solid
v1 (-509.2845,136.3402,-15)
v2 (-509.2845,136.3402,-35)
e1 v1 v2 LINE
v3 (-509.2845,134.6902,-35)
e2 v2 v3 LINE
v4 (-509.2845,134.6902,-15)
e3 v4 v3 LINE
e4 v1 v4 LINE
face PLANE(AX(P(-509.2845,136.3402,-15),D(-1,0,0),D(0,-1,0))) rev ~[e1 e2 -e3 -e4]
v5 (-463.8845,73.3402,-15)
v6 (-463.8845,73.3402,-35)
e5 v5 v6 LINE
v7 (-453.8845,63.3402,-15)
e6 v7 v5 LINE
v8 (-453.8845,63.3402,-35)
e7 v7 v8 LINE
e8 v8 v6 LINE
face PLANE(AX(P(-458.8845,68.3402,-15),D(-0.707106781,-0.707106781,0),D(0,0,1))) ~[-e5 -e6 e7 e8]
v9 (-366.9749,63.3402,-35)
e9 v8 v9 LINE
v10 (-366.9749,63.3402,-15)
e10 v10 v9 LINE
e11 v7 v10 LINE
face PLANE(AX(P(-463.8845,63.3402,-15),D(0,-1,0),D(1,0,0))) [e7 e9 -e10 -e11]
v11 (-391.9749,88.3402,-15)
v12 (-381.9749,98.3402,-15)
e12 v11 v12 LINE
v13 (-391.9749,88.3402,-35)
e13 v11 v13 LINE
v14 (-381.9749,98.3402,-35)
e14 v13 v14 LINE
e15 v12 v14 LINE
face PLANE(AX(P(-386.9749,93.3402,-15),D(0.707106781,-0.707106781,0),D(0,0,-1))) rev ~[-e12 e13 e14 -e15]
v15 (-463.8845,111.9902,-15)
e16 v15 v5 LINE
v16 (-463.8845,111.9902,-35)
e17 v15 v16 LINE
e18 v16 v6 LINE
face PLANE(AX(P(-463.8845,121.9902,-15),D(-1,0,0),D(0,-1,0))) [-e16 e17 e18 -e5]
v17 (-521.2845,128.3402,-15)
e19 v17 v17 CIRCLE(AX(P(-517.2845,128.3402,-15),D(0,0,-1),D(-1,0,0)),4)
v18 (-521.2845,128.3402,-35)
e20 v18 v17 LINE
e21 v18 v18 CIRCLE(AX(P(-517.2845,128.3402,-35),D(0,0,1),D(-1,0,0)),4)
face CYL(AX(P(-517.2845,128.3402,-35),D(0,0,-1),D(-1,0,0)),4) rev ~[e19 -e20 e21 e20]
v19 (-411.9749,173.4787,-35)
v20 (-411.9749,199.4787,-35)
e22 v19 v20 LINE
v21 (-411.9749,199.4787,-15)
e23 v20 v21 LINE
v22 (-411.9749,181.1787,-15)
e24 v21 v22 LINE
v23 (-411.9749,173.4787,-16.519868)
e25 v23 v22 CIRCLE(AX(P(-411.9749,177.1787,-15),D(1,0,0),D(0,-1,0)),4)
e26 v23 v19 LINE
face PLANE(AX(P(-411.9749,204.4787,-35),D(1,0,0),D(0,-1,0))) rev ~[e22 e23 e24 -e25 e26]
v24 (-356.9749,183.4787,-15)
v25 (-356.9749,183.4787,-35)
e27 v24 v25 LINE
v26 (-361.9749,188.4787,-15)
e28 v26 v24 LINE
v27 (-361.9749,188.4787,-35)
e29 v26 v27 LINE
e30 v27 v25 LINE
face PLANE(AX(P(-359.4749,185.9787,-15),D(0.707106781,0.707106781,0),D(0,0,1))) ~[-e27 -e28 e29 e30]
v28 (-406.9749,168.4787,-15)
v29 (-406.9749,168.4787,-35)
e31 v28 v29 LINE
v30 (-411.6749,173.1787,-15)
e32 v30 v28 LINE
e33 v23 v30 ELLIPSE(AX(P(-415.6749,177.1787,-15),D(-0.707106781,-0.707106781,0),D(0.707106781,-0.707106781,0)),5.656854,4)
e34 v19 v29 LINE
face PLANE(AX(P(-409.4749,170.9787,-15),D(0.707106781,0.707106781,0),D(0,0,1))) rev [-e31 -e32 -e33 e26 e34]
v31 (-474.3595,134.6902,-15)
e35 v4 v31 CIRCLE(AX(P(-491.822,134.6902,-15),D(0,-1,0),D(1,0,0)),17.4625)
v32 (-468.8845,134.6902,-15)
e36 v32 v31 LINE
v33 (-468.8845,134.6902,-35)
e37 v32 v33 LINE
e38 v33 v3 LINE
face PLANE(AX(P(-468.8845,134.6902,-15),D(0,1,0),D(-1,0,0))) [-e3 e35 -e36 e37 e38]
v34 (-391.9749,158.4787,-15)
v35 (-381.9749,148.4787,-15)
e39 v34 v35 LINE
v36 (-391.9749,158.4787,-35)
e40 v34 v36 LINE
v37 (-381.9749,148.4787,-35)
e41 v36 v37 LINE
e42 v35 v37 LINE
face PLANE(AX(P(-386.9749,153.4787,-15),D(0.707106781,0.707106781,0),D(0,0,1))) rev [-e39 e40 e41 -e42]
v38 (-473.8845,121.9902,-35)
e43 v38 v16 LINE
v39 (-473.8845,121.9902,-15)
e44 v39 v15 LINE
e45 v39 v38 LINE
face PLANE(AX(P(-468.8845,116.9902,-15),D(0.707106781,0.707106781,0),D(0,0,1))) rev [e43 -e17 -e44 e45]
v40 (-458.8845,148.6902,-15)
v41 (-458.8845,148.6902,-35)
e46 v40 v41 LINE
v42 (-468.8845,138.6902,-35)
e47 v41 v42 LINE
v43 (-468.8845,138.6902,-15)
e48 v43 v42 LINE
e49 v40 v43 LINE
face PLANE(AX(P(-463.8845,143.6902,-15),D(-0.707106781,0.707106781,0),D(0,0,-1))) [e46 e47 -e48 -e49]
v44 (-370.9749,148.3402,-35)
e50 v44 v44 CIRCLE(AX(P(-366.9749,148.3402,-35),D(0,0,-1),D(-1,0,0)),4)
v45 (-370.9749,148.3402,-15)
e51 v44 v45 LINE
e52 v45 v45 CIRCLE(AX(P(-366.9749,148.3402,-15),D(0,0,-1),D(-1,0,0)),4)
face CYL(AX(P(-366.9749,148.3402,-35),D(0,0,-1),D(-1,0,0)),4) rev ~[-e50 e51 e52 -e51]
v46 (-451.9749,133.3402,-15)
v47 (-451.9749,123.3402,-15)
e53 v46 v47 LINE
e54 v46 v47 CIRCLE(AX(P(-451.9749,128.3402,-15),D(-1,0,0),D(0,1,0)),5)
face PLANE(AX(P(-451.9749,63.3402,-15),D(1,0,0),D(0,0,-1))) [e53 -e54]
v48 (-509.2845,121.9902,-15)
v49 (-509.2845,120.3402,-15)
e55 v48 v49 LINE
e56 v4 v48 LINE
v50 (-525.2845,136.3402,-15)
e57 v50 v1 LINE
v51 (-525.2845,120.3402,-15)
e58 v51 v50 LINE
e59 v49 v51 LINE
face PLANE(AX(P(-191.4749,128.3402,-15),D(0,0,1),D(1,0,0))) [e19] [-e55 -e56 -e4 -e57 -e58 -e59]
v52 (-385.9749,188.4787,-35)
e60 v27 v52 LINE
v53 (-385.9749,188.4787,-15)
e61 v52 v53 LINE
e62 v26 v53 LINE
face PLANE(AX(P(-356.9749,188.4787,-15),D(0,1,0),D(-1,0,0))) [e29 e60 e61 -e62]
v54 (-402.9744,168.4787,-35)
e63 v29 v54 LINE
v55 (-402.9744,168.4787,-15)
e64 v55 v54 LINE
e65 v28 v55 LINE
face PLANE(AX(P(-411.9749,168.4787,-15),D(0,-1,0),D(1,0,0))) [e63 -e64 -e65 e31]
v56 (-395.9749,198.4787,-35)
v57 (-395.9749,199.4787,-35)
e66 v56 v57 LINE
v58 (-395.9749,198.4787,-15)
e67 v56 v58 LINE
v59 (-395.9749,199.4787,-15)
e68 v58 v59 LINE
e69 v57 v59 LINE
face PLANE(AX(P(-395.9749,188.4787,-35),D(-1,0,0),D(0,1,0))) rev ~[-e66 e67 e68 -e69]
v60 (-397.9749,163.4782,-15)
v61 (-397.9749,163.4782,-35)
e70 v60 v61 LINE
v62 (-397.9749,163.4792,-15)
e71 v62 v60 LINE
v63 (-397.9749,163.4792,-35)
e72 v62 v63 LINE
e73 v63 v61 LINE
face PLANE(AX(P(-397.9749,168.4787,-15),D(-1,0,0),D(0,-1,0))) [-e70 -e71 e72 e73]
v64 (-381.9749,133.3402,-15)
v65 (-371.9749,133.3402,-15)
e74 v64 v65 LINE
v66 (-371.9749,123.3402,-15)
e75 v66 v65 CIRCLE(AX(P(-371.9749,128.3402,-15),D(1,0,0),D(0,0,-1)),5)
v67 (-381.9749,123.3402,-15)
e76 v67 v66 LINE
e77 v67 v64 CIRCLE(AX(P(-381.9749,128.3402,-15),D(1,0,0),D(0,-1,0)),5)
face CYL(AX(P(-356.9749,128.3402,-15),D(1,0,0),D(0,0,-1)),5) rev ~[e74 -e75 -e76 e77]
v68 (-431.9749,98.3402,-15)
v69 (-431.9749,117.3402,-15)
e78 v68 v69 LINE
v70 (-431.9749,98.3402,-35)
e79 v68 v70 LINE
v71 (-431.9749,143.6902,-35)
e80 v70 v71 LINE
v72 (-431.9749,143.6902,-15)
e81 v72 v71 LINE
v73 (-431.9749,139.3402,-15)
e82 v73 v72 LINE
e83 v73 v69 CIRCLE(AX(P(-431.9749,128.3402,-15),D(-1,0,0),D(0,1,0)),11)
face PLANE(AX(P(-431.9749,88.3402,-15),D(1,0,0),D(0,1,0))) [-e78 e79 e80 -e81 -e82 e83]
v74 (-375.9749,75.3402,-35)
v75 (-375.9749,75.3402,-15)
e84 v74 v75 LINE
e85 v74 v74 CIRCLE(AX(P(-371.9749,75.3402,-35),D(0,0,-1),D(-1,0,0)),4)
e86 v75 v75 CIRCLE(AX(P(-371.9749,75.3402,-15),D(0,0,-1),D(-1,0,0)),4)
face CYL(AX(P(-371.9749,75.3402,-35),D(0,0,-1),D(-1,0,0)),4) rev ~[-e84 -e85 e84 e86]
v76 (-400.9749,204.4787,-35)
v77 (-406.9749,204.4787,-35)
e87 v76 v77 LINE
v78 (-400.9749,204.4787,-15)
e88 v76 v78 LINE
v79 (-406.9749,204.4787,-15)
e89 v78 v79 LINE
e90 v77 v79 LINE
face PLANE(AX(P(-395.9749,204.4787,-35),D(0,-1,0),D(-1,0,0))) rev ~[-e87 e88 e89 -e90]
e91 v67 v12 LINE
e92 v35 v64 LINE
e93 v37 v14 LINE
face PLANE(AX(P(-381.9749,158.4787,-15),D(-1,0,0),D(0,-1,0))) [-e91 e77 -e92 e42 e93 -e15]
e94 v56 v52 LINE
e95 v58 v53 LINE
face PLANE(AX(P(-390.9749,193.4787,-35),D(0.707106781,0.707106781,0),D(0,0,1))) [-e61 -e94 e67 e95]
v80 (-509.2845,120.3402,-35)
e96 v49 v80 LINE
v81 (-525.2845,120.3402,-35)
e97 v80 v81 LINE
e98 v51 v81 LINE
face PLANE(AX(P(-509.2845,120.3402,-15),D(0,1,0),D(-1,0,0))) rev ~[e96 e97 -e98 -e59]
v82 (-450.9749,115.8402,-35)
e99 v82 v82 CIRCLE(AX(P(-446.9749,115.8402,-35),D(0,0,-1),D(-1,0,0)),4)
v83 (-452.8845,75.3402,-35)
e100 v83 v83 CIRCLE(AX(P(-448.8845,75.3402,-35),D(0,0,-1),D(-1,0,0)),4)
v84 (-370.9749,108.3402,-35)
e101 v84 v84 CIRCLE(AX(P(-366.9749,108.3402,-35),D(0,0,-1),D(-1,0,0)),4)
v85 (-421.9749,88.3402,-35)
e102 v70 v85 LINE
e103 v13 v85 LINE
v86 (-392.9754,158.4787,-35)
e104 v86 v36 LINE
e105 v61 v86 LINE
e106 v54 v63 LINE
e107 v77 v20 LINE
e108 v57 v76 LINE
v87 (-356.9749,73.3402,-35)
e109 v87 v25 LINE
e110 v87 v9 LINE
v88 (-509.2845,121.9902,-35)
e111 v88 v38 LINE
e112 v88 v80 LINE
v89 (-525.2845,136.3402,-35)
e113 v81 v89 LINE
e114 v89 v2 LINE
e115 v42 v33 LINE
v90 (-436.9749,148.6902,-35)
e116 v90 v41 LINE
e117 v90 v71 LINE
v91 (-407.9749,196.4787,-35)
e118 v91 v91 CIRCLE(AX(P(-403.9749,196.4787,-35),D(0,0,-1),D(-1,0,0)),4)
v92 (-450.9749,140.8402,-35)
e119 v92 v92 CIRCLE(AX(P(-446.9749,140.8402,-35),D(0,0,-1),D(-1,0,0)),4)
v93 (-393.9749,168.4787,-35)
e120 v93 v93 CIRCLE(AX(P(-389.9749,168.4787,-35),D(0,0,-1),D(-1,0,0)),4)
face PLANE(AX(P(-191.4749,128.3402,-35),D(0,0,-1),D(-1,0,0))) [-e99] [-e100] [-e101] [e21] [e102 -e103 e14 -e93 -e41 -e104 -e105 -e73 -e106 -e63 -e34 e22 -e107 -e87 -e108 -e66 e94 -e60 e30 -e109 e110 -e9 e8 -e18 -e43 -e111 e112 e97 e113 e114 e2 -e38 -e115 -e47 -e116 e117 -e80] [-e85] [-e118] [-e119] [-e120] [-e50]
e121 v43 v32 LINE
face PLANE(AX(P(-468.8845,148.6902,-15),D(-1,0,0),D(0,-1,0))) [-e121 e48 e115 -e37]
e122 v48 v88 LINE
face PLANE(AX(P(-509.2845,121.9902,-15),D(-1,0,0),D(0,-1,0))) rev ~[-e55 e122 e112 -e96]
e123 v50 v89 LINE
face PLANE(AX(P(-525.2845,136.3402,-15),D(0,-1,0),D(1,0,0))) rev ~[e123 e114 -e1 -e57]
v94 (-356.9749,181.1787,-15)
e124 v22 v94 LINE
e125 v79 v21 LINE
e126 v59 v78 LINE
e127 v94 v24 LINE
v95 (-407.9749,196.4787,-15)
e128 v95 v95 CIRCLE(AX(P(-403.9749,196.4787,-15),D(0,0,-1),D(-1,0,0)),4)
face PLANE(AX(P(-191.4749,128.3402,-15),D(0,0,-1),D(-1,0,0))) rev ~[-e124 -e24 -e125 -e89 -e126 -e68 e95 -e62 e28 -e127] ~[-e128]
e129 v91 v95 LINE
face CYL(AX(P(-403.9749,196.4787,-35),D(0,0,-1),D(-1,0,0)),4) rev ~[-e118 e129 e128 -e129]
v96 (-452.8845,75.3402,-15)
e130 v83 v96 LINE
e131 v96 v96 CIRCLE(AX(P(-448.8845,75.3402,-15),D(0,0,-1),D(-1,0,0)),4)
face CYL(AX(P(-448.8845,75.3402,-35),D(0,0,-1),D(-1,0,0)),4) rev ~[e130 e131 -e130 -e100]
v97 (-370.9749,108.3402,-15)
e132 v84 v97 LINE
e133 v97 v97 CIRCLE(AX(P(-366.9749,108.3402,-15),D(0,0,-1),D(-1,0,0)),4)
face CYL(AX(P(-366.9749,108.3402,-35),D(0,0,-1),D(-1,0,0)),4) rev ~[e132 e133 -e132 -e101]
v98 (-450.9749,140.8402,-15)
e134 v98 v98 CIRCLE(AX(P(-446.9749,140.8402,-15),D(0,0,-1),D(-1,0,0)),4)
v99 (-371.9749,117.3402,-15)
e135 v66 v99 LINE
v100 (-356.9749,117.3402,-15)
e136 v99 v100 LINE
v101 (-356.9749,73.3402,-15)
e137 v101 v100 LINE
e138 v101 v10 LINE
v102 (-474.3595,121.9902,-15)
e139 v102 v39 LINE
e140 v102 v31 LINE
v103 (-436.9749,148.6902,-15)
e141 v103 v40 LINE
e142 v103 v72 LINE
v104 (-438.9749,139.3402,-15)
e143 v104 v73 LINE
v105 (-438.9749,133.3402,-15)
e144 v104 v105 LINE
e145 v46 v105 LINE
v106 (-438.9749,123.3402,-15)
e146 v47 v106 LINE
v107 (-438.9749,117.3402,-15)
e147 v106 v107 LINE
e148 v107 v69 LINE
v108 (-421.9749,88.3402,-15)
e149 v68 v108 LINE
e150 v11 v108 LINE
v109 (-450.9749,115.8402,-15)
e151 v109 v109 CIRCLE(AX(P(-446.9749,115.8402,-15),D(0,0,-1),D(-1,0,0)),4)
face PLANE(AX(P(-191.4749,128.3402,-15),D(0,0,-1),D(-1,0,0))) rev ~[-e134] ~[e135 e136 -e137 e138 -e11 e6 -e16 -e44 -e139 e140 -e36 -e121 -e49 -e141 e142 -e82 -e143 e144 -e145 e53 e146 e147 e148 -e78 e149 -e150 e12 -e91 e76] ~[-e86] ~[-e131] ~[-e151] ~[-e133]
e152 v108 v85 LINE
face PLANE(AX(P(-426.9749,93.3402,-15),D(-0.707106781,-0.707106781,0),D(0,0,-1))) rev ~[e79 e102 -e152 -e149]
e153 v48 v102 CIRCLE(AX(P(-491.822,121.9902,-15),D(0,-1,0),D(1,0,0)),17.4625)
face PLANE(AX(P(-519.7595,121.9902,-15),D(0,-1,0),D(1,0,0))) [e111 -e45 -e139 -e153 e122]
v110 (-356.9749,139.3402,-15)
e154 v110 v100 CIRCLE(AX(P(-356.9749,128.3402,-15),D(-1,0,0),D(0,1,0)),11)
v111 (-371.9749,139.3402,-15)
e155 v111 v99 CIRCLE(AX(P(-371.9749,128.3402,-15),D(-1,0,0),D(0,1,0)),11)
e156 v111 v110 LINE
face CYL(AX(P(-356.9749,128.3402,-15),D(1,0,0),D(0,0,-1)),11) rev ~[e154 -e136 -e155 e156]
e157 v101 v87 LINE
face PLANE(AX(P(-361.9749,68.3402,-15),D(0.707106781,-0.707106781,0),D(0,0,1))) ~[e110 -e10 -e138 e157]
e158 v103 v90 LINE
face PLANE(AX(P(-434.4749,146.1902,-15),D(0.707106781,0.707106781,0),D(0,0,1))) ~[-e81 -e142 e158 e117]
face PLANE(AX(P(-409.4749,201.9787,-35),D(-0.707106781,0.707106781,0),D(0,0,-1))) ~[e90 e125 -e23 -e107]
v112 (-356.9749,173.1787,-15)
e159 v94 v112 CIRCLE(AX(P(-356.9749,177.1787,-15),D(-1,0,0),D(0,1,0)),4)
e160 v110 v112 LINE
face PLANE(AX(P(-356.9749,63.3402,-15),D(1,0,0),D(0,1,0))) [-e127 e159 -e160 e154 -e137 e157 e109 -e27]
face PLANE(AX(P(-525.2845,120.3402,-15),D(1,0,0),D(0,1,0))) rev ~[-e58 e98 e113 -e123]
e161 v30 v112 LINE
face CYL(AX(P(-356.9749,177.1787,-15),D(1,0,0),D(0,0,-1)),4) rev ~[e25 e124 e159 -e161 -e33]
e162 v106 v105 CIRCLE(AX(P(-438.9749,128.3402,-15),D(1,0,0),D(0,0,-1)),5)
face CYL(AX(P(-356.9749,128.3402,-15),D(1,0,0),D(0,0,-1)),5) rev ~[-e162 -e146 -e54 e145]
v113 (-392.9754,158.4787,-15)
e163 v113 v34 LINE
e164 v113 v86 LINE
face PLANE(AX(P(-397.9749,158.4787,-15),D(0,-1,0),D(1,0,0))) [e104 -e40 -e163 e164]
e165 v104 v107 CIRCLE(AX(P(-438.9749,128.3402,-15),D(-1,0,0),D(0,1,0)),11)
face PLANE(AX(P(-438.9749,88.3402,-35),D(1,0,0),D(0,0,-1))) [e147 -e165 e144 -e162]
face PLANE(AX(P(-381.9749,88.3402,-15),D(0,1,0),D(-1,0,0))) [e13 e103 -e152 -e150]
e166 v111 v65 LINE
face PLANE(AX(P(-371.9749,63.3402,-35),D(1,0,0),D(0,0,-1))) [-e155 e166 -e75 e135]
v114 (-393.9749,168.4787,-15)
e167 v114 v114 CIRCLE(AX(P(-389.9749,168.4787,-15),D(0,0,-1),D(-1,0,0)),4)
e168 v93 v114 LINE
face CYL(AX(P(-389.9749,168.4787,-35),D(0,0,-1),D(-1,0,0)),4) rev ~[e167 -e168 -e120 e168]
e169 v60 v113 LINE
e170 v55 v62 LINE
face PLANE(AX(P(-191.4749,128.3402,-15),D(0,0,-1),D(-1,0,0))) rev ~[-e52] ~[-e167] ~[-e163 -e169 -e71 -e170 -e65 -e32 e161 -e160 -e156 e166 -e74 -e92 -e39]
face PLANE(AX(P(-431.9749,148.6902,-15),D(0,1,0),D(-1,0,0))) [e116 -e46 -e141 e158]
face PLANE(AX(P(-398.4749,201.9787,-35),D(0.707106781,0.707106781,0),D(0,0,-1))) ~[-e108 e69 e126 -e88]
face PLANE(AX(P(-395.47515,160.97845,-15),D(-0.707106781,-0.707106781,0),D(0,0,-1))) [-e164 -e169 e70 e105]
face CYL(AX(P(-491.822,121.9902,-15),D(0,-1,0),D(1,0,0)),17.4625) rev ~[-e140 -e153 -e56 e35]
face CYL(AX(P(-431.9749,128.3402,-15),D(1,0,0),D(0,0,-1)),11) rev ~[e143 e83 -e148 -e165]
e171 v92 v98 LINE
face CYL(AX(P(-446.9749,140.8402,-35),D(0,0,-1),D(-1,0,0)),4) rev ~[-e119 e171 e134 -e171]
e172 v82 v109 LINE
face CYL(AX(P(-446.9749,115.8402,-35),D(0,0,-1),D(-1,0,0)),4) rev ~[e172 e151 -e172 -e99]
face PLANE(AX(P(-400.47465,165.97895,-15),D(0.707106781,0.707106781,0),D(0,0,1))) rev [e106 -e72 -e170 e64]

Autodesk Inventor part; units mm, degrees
ref_plane "YZ Plane" through (0, 0, 0) normal (1, 0, 0) x (0, 1, 0)
ref_plane "XZ Plane" through (0, 0, 0) normal (0, 1, 0) x (-1, 0, 0)
ref_plane "XY Plane" through (0, 0, 0) normal (0, 0, 1) x (1, 0, 0)
ref_plane "Work Plane1" through (-191.4749, 128.3402, -15) normal (0, 0, -1) x (-1, 0, 0)
sketch "Sketch1" plane through (-191.4749, 128.3402, -15) normal (0, 0, -1) x (-1, 0, 0)
  line L0 (190.8, 9) -> (190.8, -9) construction
  line L1 (221.5, 38.1385) -> (221.5, 59.5385) construction
  line L2 (228.2, 37.8385) -> (228.2, 59.8385) construction
  line L3 (292.4096, 87.8385) -> (292.4096, -112.1615) construction
  line L4 (308.2846, 87.8385) -> (308.2846, -112.1615) construction
  line L5 (240.5, -40) -> (240.5, 20.35)
  line L6 (240.5, 20.35) -> (277.4096, 20.35)
  line L7 (277.4096, 20.35) -> (277.4096, 6.35)
  line L8 (277.4096, 6.35) -> (328.2846, 6.35)
  line L9 (328.2846, 6.35) -> (328.2846, -6.35)
  line L10 (328.2846, -6.35) -> (272.4096, -6.35)
  line L11 (272.4096, -6.35) -> (272.4096, -65)
  line L12 (272.4096, -65) -> (165.5, -65)
  line L13 (165.5, -65) -> (165.5, 60.1385)
  line L14 (165.5, 60.1385) -> (220.5, 60.1385)
  line L15 (220.5, 60.1385) -> (220.5, 40.1385)
  line L16 (220.5, 40.1385) -> (190.5, 40.1385)
  line L17 (190.5, 40.1385) -> (206.5, 40.1385)
  line L18 (206.5, 40.1385) -> (206.5, 30.1385)
  line L19 (206.5, 30.1385) -> (190.5, 30.1385)
  line L20 (190.5, 30.1385) -> (190.5, 40.1385)
  line L21 (190.5, 30.1385) -> (190.5, -40)
  line L22 (190.5, -40) -> (240.5, -40)
  line L23 (190.5, -8.7) -> (190.5, 8.7) construction
  point P0 (-191.4749, -128.3402)
  point P1 (328.2846, 0)
  point P2 (190.8, 0)
  point P3 (190.5, 0)
  dimension "d0" = 12.7
  dimension "d1" = 2
  dimension "d2" = 1
  dimension "d3" = 20
  dimension "d4" = 16
  dimension "d5" = 10
  dimension "d6" = 40
  dimension "d7" = 25
  dimension "d8" = 50
  dimension "d9" = 20
  dimension "d10" = 20
  dimension "d11" = 15
  dimension "d12" = 14
  dimension "d13" = 25
extrude "Extrusion1" add sketch "Sketch1" along normal blind 20
sketch "Sketch2" plane through (-519.7595, 121.9902, -15) normal (0, -1, 0) x (1, 0, 0)
  circle A0 centre (27.9375, 0) radius 30 construction
  circle A1 centre (27.9375, 0) radius 17.4625
  point P0 (519.7595, 15)
  dimension "d16" = 34.925
extrude "Extrusion2" cut sketch "Sketch2" against normal through all
sketch "Sketch3" plane through (-191.4749, 128.3402, -15) normal (0, 0, 1) x (1, 0, 0)
  line L0 (-317.8096, -6.35) -> (-317.8096, 6.35) projected
  line L1 (-333.8096, 8) -> (-317.8096, 8)
  line L2 (-317.8096, 8) -> (-317.8096, -8)
  line L3 (-317.8096, -8) -> (-333.8096, -8)
  line L4 (-333.8096, -8) -> (-333.8096, 8)
  point P0 (191.4749, -128.3402)
  point P1 (-317.8096, 0)
  dimension "d19" = 16
  dimension "d20" = 16
extrude "Extrusion3" add sketch "Sketch3" against normal up to surface (20 mm away)
sketch "Sketch4" plane through (-191.4749, 128.3402, -35) normal (0, 0, -1) x (-1, 0, 0)
  line L0 (317.8096, -8) -> (333.8096, -8) projected
  line L1 (333.8096, 8) -> (317.8096, 8) projected
  line L2 (325.8096, 8) -> (325.8096, -8)
  circle A0 centre (325.8096, 0) radius 4
  point P0 (-191.4749, -128.3402)
  dimension "d23" = 8
extrude "Extrusion4" cut sketch "Sketch4" against normal through all
sketch "Sketch5" plane through (-356.9749, 63.3402, -15) normal (1, 0, 0) x (0, 0, -1)
  arc A0 (1.3364, 96.1329) -> (-1.3364, 96.1329) centre (0, 65) ccw construction
  arc A1 (-1.3364, 96.1329) -> (-7.1127, 95.3389) centre (0, 65) ccw construction
  arc A2 (-7.1127, 95.3389) -> (-9.6864, 94.6178) centre (0, 65) ccw construction
  arc A3 (-9.6864, 94.6178) -> (-15.0343, 92.2949) centre (0, 65) ccw construction
  arc A4 (-15.0343, 92.2949) -> (-17.318, 90.9062) centre (0, 65) ccw construction
  arc A5 (-17.318, 90.9062) -> (-21.8409, 87.2265) centre (0, 65) ccw construction
  arc A6 (-21.8409, 87.2265) -> (-23.6652, 85.2731) centre (0, 65) ccw construction
  arc A7 (-23.6652, 85.2731) -> (-27.0276, 80.5097) centre (0, 65) ccw construction
  arc A8 (-27.0276, 80.5097) -> (-28.2572, 78.1366) centre (0, 65) ccw construction
  arc A9 (-28.2572, 78.1366) -> (-30.2098, 72.6426) centre (0, 65) ccw construction
  arc A10 (-30.2098, 72.6426) -> (-30.7536, 70.0257) centre (0, 65) ccw construction
  arc A11 (-30.7536, 70.0257) -> (-31.1515, 64.2087) centre (0, 65) ccw construction
  arc A12 (-31.1515, 64.2087) -> (-30.9691, 61.5421) centre (0, 65) ccw construction
  arc A13 (-30.9691, 61.5421) -> (-29.7828, 55.8335) centre (0, 65) ccw construction
  arc A14 (-29.7828, 55.8335) -> (-28.8878, 53.315) centre (0, 65) ccw construction
  arc A15 (-28.8878, 53.315) -> (-26.2053, 48.1381) centre (0, 65) ccw construction
  arc A16 (-26.2053, 48.1381) -> (-24.6639, 45.9545) centre (0, 65) ccw construction
  arc A17 (-24.6639, 45.9545) -> (-20.6842, 41.6933) centre (0, 65) ccw construction
  arc A18 (-20.6842, 41.6933) -> (-18.6109, 40.0065) centre (0, 65) ccw construction
  arc A19 (-18.6109, 40.0065) -> (-13.6291, 36.977) centre (0, 65) ccw construction
  arc A20 (-13.6291, 36.977) -> (-11.1776, 35.9122) centre (0, 65) ccw construction
  arc A21 (-11.1776, 35.9122) -> (-5.5632, 34.3391) centre (0, 65) ccw construction
  arc A22 (-5.5632, 34.3391) -> (-2.9153, 33.9751) centre (0, 65) ccw construction
  arc A23 (-2.9153, 33.9751) -> (2.9153, 33.9751) centre (0, 65) ccw construction
  arc A24 (2.9153, 33.9751) -> (5.5632, 34.3391) centre (0, 65) ccw construction
  arc A25 (5.5632, 34.3391) -> (11.1776, 35.9122) centre (0, 65) ccw construction
  arc A26 (11.1776, 35.9122) -> (13.6291, 36.977) centre (0, 65) ccw construction
  arc A27 (13.6291, 36.977) -> (18.6109, 40.0065) centre (0, 65) ccw construction
  arc A28 (18.6109, 40.0065) -> (20.6842, 41.6933) centre (0, 65) ccw construction
  arc A29 (20.6842, 41.6933) -> (24.6639, 45.9545) centre (0, 65) ccw construction
  arc A30 (24.6639, 45.9545) -> (26.2053, 48.1381) centre (0, 65) ccw construction
  arc A31 (26.2053, 48.1381) -> (28.8878, 53.315) centre (0, 65) ccw construction
  arc A32 (28.8878, 53.315) -> (29.7828, 55.8335) centre (0, 65) ccw construction
  arc A33 (29.7828, 55.8335) -> (30.9691, 61.5421) centre (0, 65) ccw construction
  arc A34 (30.9691, 61.5421) -> (31.1515, 64.2087) centre (0, 65) ccw construction
  arc A35 (31.1515, 64.2087) -> (30.7536, 70.0257) centre (0, 65) ccw construction
  arc A36 (30.7536, 70.0257) -> (30.2098, 72.6426) centre (0, 65) ccw construction
  arc A37 (30.2098, 72.6426) -> (28.2572, 78.1366) centre (0, 65) ccw construction
  arc A38 (28.2572, 78.1366) -> (27.0276, 80.5097) centre (0, 65) ccw construction
  arc A39 (27.0276, 80.5097) -> (23.6652, 85.2731) centre (0, 65) ccw construction
  arc A40 (23.6652, 85.2731) -> (21.8409, 87.2265) centre (0, 65) ccw construction
  arc A41 (21.8409, 87.2265) -> (17.318, 90.9062) centre (0, 65) ccw construction
  arc A42 (17.318, 90.9062) -> (15.0343, 92.2949) centre (0, 65) ccw construction
  arc A43 (15.0343, 92.2949) -> (9.6864, 94.6178) centre (0, 65) ccw construction
  arc A44 (9.6864, 94.6178) -> (7.1127, 95.3389) centre (0, 65) ccw construction
  arc A45 (7.1127, 95.3389) -> (1.3364, 96.1329) centre (0, 65) ccw construction
  circle A46 centre (-10, 65) radius 3 construction
  arc A47 (7, 65) -> (-7, 65) centre (0, 65) ccw construction
  circle A48 centre (10, 65) radius 3 construction
  arc A49 (-7, 65) -> (7, 65) centre (0, 65) ccw construction
  circle A50 centre (0, 65) radius 5
  point P0 (-15, -63.3402)
  dimension "d26" = 10
extrude "Extrusion5" cut sketch "Sketch5" against normal blind 95
sketch "Sketch6" plane through (-431.9749, 88.3402, -35) normal (1, 0, 0) x (0, 0, -1)
  arc A0 (-20, 35) -> (-20, 45) centre (-20, 40) ccw projected
  circle A1 centre (-20, 40) radius 11
  point P0 (-35, -88.3402)
  dimension "d29" = 22
extrude "Extrusion6" cut sketch "Sketch6" against normal blind 7
sketch "Sketch7" plane through (-356.9749, 63.3402, -35) normal (1, 0, 0) x (0, 0, -1)
  arc A0 (-20, 60) -> (-20, 70) centre (-20, 65) ccw projected
  circle A1 centre (-20, 65) radius 11
  point P0 (-35, -63.3402)
  dimension "d32" = 22
extrude "Extrusion7" cut sketch "Sketch7" against normal blind 15
sketch "Sketch8" plane through (-191.4749, 128.3402, -35) normal (0, 0, -1) x (-1, 0, 0)
  line L0 (220.5, 60.1385) -> (204.5, 60.1385)
  line L1 (204.5, 60.1385) -> (204.5, 76.1385)
  line L2 (204.5, 76.1385) -> (220.5, 76.1385)
  line L3 (220.5, 76.1385) -> (220.5, 60.1385)
  point P0 (-191.4749, -128.3402)
  dimension "d35" = 16
  dimension "d36" = 16
extrude "Extrusion8" add sketch "Sketch8" against normal up to surface (20 mm away)
sketch "Sketch9" plane through (-356.9749, 63.3402, -35) normal (1, 0, 0) x (0, 0, -1)
  circle A0 centre (-20, 113.8385) radius 10.7 projected
  circle A1 centre (-20, 113.8385) radius 10.7 projected
  circle A2 centre (-20, 113.8385) radius 4
  point P0 (-35, -63.3402)
  dimension "d39" = 8
extrude "Extrusion9" cut sketch "Sketch9" against normal through all contours A2
sketch "Sketch10" plane through (-191.4749, 128.3402, -35) normal (0, 0, -1) x (-1, 0, 0)
  line L0 (277.4096, 6.35) -> (277.4096, 20.35) projected
  line L1 (190.5, 30.1385) -> (206.5, 30.1385) projected
  line L2 (220.5, 40.1385) -> (220.5, 76.1385) projected
  line L3 (204.5, 76.1385) -> (204.5, 60.1385) projected
  line L4 (165.5, 60.1385) -> (165.5, -65) projected
  line L5 (165.5, -65) -> (272.4096, -65) projected
  line L6 (204.5, 68.1385) -> (220.5, 68.1385) construction
  line L7 (198.5, 30.1385) -> (198.5, 40.1385) construction
  line L8 (198.5, 40.1385) -> (206.5, 40.1385) construction
  circle A0 centre (198.5, 40.1385) radius 4
  circle A1 centre (212.5, 68.1385) radius 4
  line L9 (247.5, 11) -> (240.5, 11) construction
  line L10 (240.5, -11) -> (247.5, -11) construction
  line L11 (247.5, 11) -> (247.5, -11) construction
  line L12 (282.8846, 6.35) -> (282.8846, -6.35) construction
  line L13 (247.5, 0) -> (255.5, 0) construction
  line L14 (255.5, 12.5) -> (255.5, -12.5) construction
  line L15 (260.5, 5) -> (247.5, 5) construction
  line L16 (247.5, -5) -> (260.5, -5) construction
  circle A2 centre (255.5, 12.5) radius 4
  circle A3 centre (255.5, -12.5) radius 4
  line L17 (180.5, -53) -> (257.4096, -53) construction
  circle A4 centre (180.5, -53) radius 4
  circle A5 centre (257.4096, -53) radius 4
  line L18 (272.4096, -65) -> (272.4096, -6.35) projected
  line L19 (180.5, -5) -> (190.5, -5) construction
  line L20 (190.5, 5) -> (180.5, 5) construction
  line L21 (180.5, 11) -> (165.5, 11) construction
  line L22 (165.5, -11) -> (180.5, -11) construction
  line L23 (175.5, 20) -> (175.5, -20) construction
  circle A6 centre (175.5, 20) radius 4
  circle A7 centre (175.5, -20) radius 4
  line L24 (165.5, -11) -> (165.5, 11) projected
  point P0 (-191.4749, -128.3402)
  point P1 (175.5, 0)
  point P2 (165.5, 0)
  dimension "d42" = 8
  dimension "d43" = 8
  dimension "d46" = 8
  dimension "d47" = 25
  dimension "d48" = 8
  dimension "d49" = 8
  dimension "d50" = 12
  dimension "d51" = 15
  dimension "d52" = 15
  dimension "d53" = 8
  dimension "d54" = 40
  dimension "d55" = 10
extrude "Extrusion10" cut sketch "Sketch10" against normal through all
chamfer "Chamfer1" distance 5 angle 45 2 edges at (-397.9749, 168.4787, -25) (-397.9749, 158.4787, -25)
chamfer "Chamfer2" distance 10 angle 45 2 edges at (-395.9749, 188.4787, -25) (-381.9749, 158.4787, -25)
chamfer "Chamfer3" distance 5 angle 45 3 edges at (-395.9749, 204.4787, -25) (-411.9749, 204.4787, -25) (-411.9749, 168.4787, -25)
chamfer "Chamfer4" distance 5 angle 45 1 edges at (-356.9749, 188.4787, -25)
chamfer "Chamfer5" distance 10 angle 45 2 edges at (-356.9749, 63.3402, -25) (-463.8845, 63.3402, -25)
chamfer "Chamfer6" distance 10 angle 45 2 edges at (-381.9749, 88.3402, -25) (-431.9749, 88.3402, -25)
chamfer "Chamfer7" distance 10 angle 45 2 edges at (-468.8845, 148.6902, -25) (-463.8845, 121.9902, -25)
chamfer "Chamfer8" distance 5 angle 45 1 edges at (-431.9749, 148.6902, -25)
properties part number "gear frame 1"
